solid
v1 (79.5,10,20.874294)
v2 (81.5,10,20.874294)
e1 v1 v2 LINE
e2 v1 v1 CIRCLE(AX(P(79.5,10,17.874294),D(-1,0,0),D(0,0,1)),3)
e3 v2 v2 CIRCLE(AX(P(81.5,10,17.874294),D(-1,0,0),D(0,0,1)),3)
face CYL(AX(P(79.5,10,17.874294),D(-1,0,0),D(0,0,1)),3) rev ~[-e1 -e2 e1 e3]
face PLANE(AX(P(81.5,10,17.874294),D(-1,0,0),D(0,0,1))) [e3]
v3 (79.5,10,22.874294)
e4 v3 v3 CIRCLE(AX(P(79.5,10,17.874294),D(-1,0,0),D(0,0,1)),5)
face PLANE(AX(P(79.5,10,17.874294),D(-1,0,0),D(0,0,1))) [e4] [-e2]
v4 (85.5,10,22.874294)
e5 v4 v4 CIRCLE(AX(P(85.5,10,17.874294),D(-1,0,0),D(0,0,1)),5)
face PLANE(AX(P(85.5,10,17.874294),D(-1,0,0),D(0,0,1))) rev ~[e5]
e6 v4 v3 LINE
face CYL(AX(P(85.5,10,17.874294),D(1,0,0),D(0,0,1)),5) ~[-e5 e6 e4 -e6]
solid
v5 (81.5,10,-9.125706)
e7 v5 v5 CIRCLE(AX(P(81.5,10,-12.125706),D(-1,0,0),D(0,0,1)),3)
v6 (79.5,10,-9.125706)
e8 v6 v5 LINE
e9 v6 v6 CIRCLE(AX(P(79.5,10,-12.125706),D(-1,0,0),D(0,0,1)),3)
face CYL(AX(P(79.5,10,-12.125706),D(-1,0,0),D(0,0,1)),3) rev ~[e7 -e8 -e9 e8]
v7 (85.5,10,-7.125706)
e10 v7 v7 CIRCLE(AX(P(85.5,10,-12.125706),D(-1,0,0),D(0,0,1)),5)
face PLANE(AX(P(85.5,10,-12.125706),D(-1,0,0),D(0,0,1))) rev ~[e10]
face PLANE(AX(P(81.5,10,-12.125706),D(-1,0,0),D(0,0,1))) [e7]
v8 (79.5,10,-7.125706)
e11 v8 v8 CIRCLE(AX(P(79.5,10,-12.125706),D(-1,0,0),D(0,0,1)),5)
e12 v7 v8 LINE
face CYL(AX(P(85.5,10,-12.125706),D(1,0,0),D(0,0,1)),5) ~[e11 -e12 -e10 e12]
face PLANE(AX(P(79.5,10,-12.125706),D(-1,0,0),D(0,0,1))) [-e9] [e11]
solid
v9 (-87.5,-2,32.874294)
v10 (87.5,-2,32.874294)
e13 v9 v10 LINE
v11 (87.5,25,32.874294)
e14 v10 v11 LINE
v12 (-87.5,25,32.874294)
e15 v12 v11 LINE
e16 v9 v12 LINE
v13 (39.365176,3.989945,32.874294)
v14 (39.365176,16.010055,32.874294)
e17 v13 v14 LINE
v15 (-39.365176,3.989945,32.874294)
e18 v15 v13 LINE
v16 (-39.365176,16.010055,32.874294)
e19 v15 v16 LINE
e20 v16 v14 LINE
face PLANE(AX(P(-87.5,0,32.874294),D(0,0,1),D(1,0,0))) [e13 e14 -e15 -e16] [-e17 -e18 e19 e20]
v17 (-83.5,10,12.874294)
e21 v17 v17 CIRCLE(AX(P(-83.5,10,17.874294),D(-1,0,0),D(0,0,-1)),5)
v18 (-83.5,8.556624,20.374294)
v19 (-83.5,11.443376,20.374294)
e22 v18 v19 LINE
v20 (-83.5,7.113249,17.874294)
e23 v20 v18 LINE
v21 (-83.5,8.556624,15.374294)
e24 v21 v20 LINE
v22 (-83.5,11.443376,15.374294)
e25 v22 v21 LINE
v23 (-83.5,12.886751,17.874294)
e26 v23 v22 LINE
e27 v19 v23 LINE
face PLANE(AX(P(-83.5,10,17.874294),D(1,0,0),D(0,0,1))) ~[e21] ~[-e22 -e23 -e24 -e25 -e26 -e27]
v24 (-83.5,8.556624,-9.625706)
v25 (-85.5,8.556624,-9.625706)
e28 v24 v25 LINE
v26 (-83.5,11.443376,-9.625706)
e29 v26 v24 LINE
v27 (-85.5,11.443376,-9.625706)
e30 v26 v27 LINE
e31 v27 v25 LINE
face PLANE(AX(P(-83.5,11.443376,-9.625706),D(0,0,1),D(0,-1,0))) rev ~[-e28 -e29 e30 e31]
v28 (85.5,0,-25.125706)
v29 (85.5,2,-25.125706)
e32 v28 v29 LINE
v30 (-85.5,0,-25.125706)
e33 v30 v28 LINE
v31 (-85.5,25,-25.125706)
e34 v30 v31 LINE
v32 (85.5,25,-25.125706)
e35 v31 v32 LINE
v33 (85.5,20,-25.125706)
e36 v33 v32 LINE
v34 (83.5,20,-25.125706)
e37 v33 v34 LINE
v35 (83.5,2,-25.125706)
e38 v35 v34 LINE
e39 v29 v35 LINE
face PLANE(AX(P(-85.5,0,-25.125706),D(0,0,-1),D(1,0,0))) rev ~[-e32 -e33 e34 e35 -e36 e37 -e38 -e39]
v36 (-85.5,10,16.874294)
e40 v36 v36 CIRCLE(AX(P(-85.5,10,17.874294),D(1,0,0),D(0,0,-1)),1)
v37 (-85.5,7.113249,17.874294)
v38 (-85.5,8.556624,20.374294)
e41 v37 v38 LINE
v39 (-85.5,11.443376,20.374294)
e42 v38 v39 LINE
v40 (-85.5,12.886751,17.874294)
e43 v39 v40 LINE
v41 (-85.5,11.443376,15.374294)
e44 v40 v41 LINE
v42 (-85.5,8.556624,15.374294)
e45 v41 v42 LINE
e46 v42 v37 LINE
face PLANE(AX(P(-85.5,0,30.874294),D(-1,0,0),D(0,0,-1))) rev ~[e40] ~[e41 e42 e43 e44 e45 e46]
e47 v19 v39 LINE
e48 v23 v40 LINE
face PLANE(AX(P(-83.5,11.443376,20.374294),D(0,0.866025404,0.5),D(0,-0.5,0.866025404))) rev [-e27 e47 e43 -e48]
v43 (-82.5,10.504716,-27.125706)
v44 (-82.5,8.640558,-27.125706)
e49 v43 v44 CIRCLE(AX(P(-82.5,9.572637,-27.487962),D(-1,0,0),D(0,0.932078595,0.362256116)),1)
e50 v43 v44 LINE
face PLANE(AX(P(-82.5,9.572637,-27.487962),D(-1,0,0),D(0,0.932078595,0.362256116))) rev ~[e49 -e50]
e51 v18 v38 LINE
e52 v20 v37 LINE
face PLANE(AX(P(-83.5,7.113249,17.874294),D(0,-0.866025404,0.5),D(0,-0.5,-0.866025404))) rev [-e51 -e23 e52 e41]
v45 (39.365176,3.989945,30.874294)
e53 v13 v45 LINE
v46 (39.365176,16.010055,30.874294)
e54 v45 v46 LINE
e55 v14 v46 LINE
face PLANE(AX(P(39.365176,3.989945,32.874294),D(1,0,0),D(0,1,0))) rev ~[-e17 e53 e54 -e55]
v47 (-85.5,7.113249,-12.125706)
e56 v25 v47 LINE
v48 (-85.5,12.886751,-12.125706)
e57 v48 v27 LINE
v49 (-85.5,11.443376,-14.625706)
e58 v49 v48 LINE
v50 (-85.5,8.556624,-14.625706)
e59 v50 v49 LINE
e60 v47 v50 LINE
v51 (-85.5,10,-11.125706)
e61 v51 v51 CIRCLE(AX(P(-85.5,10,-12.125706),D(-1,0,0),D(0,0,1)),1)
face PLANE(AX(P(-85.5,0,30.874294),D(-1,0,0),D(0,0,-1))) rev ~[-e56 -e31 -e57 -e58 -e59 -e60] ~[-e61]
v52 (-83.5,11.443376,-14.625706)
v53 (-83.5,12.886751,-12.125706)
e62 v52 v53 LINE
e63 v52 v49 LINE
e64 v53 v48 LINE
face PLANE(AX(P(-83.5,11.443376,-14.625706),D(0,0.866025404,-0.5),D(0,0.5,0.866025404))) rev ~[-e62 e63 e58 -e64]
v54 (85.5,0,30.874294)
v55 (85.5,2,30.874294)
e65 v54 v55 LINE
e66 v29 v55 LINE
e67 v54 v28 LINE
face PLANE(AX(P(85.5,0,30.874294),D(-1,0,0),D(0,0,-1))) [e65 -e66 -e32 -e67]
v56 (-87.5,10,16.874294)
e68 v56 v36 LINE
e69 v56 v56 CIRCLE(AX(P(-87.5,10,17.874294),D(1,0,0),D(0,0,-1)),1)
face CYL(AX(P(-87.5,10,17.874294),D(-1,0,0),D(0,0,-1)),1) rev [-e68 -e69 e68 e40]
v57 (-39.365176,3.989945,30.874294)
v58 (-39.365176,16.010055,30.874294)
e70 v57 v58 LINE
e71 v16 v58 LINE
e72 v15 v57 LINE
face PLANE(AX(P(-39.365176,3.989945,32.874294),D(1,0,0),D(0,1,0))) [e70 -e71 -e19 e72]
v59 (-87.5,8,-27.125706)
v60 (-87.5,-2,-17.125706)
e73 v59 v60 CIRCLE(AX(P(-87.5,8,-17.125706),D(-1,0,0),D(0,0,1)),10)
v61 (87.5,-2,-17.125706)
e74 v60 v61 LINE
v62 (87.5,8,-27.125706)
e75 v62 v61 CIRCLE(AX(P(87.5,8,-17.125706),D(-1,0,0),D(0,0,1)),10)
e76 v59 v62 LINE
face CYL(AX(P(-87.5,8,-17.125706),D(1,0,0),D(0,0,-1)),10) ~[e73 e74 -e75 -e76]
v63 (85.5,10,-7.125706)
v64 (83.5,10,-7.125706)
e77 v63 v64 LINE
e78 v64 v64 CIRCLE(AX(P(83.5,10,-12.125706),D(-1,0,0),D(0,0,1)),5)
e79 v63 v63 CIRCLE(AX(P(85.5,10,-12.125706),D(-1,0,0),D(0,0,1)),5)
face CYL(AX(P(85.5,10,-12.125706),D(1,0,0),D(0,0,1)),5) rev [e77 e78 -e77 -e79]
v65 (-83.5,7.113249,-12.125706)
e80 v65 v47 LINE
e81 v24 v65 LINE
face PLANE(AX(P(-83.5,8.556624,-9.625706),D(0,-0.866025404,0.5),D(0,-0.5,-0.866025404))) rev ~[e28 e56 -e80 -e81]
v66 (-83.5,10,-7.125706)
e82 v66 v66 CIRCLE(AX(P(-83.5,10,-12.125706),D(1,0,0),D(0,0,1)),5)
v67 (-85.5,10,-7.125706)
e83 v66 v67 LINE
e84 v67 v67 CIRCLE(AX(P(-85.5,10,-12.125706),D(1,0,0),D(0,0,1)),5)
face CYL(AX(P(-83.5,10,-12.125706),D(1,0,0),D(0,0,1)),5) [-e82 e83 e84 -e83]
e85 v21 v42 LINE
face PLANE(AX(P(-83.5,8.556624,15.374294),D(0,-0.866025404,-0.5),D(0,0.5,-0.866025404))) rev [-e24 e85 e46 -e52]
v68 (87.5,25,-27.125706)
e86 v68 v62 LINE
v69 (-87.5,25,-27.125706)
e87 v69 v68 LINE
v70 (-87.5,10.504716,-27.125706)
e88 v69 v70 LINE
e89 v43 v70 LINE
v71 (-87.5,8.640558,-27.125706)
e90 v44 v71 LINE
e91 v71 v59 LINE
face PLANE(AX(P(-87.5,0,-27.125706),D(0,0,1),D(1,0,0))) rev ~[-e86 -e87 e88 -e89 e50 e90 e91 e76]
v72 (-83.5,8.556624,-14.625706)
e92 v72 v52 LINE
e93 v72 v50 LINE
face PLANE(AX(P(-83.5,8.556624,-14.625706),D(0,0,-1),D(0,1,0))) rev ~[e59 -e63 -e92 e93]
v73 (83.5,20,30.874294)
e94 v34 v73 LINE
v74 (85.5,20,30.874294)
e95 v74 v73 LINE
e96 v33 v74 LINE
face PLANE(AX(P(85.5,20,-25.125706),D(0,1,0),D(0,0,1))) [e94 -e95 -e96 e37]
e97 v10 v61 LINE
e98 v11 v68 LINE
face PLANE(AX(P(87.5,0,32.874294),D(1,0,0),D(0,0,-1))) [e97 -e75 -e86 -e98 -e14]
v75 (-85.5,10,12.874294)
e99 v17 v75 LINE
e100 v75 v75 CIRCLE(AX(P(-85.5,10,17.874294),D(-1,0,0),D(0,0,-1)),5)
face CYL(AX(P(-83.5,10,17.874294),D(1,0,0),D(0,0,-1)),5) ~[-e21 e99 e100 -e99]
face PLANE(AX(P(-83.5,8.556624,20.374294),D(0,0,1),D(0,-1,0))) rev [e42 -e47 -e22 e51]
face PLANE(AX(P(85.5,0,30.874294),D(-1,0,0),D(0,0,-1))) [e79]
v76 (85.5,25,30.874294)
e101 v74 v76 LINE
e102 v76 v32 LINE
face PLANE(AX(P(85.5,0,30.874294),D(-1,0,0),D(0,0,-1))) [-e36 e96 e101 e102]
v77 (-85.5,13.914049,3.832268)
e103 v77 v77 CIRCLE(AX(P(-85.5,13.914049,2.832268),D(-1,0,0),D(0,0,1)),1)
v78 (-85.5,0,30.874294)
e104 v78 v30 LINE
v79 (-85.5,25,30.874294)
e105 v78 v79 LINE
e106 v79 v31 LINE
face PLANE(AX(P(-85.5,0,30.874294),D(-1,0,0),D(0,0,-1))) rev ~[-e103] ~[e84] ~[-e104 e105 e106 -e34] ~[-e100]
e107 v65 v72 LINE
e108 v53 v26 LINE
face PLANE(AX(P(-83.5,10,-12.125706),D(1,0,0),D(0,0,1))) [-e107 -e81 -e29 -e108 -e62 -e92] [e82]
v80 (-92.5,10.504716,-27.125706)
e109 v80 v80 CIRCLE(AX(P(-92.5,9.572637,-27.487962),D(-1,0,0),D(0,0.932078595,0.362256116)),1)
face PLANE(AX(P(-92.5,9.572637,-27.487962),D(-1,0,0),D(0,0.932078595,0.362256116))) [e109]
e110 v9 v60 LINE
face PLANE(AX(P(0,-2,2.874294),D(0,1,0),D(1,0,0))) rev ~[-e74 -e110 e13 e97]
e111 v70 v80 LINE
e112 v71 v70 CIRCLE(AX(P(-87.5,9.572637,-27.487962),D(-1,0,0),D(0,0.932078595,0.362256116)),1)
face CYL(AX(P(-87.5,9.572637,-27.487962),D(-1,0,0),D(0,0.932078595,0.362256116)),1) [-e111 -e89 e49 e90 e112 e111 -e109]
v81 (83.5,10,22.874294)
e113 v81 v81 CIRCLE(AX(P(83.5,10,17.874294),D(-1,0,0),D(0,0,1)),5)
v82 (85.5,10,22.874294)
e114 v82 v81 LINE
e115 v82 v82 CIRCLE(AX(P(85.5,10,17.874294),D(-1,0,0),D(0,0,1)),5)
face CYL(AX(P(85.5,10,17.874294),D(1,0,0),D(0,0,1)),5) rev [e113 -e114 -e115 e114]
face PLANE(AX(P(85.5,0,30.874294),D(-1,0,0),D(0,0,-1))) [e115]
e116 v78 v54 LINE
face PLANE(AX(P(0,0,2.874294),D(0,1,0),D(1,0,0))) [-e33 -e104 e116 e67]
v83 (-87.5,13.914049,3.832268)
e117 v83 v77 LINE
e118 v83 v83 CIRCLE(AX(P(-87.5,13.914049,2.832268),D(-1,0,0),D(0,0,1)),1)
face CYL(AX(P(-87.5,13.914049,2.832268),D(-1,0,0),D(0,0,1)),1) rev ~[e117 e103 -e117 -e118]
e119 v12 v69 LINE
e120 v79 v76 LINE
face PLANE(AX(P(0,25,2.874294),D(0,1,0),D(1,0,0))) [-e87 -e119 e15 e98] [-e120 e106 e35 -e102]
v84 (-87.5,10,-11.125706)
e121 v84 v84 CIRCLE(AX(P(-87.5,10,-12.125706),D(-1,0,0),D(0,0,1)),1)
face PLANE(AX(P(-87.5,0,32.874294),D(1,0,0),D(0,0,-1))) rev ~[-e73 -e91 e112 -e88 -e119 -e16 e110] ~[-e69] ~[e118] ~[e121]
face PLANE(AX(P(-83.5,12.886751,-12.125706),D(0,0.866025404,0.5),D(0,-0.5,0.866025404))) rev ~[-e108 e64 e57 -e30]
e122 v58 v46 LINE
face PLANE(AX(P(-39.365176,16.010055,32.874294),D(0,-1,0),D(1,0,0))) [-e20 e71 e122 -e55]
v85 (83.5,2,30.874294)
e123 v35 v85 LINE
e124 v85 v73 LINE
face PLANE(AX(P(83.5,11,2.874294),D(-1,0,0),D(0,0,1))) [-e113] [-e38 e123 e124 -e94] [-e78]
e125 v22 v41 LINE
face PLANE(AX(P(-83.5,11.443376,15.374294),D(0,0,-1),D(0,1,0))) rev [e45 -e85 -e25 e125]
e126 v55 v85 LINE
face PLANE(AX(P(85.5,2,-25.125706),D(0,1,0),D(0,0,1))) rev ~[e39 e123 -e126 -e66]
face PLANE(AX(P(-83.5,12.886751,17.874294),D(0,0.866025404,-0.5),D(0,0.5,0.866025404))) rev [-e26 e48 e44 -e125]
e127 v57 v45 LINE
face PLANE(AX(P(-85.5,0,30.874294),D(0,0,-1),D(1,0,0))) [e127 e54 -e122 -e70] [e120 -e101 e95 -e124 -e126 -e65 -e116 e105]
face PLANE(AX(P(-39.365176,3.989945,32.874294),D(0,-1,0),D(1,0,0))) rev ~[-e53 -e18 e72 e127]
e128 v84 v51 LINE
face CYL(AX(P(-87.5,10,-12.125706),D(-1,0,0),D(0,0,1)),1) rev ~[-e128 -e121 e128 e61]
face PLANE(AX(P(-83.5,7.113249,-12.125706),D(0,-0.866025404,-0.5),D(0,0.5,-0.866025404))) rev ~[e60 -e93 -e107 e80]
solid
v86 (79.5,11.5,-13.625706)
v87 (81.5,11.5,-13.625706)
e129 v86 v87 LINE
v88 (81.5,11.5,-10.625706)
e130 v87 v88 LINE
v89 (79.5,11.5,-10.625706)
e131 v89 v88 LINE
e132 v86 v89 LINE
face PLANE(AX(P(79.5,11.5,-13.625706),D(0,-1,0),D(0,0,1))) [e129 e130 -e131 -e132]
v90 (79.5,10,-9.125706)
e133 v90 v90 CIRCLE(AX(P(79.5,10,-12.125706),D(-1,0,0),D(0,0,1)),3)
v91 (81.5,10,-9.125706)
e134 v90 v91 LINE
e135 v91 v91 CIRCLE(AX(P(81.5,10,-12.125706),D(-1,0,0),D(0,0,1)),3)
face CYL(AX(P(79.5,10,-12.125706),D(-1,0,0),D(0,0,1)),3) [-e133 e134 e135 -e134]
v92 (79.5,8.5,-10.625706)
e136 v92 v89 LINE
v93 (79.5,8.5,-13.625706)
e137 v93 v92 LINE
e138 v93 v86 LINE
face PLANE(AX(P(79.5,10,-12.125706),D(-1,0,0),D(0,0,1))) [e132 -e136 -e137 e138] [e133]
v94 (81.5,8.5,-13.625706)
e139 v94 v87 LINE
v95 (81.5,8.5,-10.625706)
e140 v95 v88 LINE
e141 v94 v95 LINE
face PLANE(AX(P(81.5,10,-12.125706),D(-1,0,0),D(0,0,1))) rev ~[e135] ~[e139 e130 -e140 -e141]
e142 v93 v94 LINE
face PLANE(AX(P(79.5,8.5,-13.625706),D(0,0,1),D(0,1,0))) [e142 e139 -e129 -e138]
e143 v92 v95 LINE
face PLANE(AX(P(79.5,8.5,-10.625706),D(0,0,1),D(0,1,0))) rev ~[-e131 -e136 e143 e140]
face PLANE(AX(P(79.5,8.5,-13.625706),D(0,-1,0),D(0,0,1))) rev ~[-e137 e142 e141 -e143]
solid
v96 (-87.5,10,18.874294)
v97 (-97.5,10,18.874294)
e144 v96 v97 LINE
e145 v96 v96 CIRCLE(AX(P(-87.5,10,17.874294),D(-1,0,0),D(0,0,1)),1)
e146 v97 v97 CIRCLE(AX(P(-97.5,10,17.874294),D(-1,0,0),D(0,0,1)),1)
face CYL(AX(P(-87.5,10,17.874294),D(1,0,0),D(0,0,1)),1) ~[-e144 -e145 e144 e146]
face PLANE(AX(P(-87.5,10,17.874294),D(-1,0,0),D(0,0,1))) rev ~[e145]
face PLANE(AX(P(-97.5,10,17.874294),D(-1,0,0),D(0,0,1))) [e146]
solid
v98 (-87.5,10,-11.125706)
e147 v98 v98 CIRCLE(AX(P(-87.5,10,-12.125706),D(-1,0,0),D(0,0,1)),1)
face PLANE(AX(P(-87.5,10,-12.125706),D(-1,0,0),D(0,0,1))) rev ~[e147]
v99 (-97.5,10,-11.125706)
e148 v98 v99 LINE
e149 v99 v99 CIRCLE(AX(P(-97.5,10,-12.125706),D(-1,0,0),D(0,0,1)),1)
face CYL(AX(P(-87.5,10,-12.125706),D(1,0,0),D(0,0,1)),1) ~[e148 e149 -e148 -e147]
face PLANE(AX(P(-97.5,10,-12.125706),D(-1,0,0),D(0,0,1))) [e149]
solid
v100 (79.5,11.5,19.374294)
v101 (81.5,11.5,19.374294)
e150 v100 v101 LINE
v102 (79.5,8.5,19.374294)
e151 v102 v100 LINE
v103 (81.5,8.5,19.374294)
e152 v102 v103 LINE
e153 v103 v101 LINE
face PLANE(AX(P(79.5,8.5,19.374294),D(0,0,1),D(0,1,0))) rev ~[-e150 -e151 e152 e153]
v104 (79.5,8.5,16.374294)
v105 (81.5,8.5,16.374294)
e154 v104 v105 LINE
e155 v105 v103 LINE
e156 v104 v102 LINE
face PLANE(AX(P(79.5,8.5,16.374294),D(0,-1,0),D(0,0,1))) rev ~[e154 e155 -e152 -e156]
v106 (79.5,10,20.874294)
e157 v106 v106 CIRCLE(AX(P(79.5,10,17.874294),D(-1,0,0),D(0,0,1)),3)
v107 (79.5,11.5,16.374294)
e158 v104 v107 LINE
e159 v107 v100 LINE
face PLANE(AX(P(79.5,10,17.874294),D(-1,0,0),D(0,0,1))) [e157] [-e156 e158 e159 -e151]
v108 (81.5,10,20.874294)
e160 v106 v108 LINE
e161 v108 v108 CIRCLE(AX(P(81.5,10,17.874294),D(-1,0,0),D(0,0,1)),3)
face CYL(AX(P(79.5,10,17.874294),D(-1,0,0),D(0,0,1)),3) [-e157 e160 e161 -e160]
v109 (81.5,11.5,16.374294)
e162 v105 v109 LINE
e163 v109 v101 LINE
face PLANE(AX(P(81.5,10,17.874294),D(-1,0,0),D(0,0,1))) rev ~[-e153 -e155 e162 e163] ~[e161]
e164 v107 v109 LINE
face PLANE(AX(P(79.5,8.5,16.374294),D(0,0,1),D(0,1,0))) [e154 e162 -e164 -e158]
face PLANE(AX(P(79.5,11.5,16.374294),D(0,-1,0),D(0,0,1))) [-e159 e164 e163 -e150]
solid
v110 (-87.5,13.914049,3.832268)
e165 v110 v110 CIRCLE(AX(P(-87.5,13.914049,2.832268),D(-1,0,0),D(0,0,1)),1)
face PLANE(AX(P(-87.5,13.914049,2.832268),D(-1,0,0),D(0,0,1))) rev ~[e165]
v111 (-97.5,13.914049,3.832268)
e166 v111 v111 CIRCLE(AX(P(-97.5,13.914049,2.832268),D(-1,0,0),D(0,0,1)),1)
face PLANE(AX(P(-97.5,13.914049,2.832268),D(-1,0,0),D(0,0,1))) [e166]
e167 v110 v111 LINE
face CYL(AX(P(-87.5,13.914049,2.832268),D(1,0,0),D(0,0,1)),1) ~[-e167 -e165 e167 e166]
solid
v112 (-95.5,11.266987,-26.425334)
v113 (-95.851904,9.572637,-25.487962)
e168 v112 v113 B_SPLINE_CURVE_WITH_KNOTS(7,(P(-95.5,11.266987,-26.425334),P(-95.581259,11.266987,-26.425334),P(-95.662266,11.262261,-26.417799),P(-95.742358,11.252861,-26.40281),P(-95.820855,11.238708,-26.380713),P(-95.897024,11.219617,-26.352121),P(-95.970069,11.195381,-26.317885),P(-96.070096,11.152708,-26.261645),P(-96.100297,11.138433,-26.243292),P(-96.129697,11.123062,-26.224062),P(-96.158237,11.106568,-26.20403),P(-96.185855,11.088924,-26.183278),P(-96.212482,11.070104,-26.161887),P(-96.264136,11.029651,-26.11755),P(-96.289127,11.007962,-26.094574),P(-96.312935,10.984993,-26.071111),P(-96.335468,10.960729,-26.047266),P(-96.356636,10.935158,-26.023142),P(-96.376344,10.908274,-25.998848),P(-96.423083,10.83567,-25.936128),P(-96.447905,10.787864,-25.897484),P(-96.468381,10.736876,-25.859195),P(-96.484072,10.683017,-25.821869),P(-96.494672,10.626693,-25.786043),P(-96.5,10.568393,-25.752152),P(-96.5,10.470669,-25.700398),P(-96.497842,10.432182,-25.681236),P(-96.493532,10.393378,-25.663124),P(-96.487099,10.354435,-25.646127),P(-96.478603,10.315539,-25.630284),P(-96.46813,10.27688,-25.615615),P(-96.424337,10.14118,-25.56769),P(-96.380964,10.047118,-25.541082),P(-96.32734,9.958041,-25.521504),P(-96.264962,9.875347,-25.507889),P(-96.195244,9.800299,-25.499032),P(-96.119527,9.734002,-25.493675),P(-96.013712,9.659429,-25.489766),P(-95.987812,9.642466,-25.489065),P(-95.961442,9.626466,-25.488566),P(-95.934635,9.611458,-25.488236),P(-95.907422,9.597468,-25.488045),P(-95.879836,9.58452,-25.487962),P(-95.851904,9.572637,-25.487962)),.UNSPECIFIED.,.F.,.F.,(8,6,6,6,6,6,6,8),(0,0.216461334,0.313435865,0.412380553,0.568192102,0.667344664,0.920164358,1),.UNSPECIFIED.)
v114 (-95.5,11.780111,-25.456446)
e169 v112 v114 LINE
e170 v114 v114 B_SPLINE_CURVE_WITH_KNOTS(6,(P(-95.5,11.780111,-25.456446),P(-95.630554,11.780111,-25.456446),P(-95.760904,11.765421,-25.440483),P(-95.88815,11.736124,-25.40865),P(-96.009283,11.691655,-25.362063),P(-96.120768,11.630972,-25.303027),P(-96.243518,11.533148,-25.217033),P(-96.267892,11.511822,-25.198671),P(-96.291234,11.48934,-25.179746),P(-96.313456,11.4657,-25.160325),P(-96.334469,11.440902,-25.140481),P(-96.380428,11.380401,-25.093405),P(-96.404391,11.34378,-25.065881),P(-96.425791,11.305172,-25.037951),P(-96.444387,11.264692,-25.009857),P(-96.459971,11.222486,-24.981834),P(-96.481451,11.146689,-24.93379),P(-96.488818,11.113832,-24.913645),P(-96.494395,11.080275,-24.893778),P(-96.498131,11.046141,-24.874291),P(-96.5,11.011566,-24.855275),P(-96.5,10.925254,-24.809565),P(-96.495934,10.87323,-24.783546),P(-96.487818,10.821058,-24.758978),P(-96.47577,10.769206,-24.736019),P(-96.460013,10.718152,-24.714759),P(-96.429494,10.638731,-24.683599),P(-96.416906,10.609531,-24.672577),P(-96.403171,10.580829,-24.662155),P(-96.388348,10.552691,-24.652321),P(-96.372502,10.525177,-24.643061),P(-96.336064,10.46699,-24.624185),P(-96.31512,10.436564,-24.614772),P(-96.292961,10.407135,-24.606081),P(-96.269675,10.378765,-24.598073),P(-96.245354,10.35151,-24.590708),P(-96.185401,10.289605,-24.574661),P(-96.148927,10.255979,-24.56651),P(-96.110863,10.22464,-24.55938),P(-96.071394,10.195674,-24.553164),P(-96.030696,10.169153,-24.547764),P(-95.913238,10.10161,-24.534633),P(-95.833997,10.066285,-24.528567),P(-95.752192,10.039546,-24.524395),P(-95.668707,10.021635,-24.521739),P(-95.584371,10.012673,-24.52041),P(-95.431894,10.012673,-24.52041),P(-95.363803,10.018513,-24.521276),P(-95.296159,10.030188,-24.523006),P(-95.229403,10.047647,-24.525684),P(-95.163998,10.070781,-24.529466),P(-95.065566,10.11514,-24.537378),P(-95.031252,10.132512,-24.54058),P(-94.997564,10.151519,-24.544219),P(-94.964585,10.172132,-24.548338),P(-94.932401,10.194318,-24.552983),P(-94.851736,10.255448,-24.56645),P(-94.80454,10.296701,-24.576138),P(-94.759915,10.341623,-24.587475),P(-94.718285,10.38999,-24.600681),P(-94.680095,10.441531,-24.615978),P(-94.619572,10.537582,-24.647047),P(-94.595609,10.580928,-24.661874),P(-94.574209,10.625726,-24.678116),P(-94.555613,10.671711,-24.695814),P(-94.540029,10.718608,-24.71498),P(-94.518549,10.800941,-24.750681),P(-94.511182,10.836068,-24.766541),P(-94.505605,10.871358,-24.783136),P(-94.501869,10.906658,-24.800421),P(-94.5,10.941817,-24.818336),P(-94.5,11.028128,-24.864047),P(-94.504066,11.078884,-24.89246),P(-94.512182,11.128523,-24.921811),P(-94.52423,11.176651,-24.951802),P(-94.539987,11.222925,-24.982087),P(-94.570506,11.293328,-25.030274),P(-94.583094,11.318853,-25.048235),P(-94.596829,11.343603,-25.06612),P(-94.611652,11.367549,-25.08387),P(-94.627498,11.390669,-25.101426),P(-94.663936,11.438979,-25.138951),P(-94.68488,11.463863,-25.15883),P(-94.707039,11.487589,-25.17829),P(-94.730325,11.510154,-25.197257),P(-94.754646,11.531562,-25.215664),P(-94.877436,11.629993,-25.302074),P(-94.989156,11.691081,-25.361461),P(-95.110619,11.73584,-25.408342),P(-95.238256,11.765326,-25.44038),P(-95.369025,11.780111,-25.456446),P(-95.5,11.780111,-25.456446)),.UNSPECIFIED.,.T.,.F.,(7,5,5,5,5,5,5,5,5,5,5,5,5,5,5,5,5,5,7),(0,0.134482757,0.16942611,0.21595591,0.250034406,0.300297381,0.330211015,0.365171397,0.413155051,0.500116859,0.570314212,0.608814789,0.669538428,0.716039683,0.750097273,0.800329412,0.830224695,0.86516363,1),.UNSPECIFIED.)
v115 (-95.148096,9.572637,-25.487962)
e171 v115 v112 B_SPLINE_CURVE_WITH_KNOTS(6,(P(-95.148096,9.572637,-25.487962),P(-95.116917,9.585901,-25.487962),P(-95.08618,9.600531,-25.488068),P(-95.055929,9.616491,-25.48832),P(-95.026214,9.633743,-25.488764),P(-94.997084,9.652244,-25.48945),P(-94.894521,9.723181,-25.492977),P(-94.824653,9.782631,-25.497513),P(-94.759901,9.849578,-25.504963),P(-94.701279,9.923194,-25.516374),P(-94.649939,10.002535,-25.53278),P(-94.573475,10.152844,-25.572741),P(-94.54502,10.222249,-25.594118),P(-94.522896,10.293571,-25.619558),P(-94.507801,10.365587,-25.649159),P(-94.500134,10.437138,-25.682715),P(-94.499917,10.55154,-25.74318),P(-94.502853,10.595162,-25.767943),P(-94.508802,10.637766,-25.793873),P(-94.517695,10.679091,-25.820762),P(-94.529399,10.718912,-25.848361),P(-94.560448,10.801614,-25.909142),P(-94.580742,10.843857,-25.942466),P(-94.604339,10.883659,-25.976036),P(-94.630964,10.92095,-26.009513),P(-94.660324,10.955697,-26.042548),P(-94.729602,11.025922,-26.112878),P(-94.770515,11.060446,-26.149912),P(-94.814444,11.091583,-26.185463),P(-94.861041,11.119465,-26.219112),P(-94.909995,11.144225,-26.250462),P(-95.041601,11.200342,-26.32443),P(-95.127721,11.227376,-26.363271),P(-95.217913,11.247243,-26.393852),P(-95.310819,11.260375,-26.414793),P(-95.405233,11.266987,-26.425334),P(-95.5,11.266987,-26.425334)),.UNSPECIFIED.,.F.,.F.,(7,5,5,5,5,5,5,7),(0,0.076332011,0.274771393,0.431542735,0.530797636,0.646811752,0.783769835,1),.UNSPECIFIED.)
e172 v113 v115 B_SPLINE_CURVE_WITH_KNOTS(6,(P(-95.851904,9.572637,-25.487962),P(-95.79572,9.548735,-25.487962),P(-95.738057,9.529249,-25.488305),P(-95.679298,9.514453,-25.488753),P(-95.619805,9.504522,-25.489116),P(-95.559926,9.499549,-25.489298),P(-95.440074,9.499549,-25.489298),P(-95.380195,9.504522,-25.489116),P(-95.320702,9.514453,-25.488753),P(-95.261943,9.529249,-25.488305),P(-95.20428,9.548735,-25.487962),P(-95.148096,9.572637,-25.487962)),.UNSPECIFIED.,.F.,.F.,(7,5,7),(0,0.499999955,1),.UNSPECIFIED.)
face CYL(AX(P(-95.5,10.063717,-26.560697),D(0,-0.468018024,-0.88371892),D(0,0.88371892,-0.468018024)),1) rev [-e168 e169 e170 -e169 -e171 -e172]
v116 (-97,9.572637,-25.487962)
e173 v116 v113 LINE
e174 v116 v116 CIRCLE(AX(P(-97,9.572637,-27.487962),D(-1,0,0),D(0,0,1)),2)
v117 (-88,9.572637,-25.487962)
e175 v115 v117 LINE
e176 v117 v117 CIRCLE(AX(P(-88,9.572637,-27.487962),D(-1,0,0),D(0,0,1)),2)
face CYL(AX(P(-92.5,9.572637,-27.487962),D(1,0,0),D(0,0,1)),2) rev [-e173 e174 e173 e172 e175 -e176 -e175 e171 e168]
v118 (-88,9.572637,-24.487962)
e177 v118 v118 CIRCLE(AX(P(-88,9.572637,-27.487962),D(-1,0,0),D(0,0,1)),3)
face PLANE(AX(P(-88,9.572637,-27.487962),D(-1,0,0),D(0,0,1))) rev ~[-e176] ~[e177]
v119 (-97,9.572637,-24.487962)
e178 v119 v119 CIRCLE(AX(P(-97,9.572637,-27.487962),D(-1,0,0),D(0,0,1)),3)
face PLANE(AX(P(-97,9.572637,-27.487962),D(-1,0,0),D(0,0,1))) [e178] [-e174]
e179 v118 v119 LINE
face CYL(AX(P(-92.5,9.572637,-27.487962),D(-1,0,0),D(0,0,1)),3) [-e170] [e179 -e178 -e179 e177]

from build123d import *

# Parameters (mm, degrees)
SKETCH1_W              = 175
SKETCH1_H              = 60
SKETCH1_W_2            = 171
SKETCH1_H_2            = 56
BOSS_EXTRUDE1_DEPTH    = 25
SKETCH1_2_W            = 175
SKETCH1_2_H            = 60
BOSS_EXTRUDE2_DEPTH    = 2
SKETCH3_W              = 78.730351058
SKETCH3_H              = 12.02010903
CUT_EXTRUDE2_DEPTH     = 2
SKETCH5_W              = 56
SKETCH5_H              = 18
SKETCH5_R              = 5
BOSS_EXTRUDE3_DEPTH    = 2
SKETCH5_4_R            = 5
BOSS_EXTRUDE4_DEPTH    = 6
BOSS_EXTRUDE4_2_DEPTH  = 6
SKETCH9_R              = 3
CUT_EXTRUDE3_DEPTH     = 2
SKETCH9_3_R            = 3
BOSS_EXTRUDE5_DEPTH    = 2
SKETCH6_W              = 3
SKETCH6_H              = 3
CUT_EXTRUDE4_DEPTH     = 2
SKETCH8_R              = 1
CUT_EXTRUDE5_DEPTH     = 2
BOSS_EXTRUDE8_START    = 2
SKETCH10_R             = 5
BOSS_EXTRUDE8_DEPTH    = 2
SKETCH11_R             = 3
SKETCH11_W             = 3
SKETCH11_H             = 3
CUT_EXTRUDE6_DEPTH     = 2
SKETCH11_3_R           = 3
SKETCH11_3_W           = 3
SKETCH11_3_H           = 3
BOSS_EXTRUDE9_DEPTH    = 2
SKETCH12_R             = 1
CUT_EXTRUDE7_DEPTH     = 2
SKETCH13_R             = 1
BOSS_EXTRUDE10_DEPTH   = 5
SKETCH14_R             = 3
SKETCH14_R_2           = 2
BOSS_EXTRUDE11_DEPTH   = 4.5
FILLET1_R              = 10
SKETCH15_R             = 1
BOSS_EXTRUDE12_DEPTH   = 10
BOSS_EXTRUDE12_2_DEPTH = 10
BOSS_EXTRUDE12_3_DEPTH = 10
SKETCH16_R             = 1
CUT_EXTRUDE9_DEPTH     = 3


with BuildPart() as part:
    # Sketch1 → Boss-Extrude1 (new body)
    with BuildSketch(Plane(origin=(0, 0, 0), x_dir=(1, 0, 0), z_dir=(0, 1, 0))):
        with Locations((0, -2.874293785)):
            Rectangle(SKETCH1_W, SKETCH1_H)
        with Locations((0, -2.874293785)):
            Rectangle(SKETCH1_W_2, SKETCH1_H_2, mode=Mode.SUBTRACT)
    extrude(amount=BOSS_EXTRUDE1_DEPTH)

    # Sketch1<2> → Boss-Extrude2 (add)
    with BuildSketch(Plane(origin=(0, 0, 0), x_dir=(1, 0, 0), z_dir=(0, 1, 0))):
        with Locations((0, -2.874293785)):
            Rectangle(SKETCH1_2_W, SKETCH1_2_H)
    extrude(amount=-BOSS_EXTRUDE2_DEPTH)

    # Sketch3 → Cut-Extrude2 (cut)
    with BuildSketch(Plane.XY.offset(32.874293785)):
        with Locations((0, 10)):
            Rectangle(SKETCH3_W, SKETCH3_H)
    extrude(amount=-CUT_EXTRUDE2_DEPTH, mode=Mode.SUBTRACT)

    # Sketch5 → Boss-Extrude3 (add)
    with BuildSketch(Plane.ZY.offset(-85.5)):
        with Locations((2.874293785, 11)):
            Rectangle(SKETCH5_W, SKETCH5_H)
        with Locations((17.874293785, 10)):
            Circle(SKETCH5_R, mode=Mode.SUBTRACT)
        with Locations((-12.125706215, 10)):
            Circle(SKETCH5_R, mode=Mode.SUBTRACT)
    extrude(amount=BOSS_EXTRUDE3_DEPTH)

    # Sketch8 → Cut-Extrude5 (cut)
    with BuildSketch(Plane.ZY.offset(87.5)):
        with Locations((-12.125706215, 10)):
            Circle(SKETCH8_R)
    cut_extrude5 = extrude(amount=-CUT_EXTRUDE5_DEPTH, mode=Mode.SUBTRACT)

    # Sketch10 → Boss-Extrude8 (add)
    with BuildSketch(Plane(origin=(-85.5, 0, 0), x_dir=(0, 0, -1), z_dir=(1, 0, 0)).offset(BOSS_EXTRUDE8_START)):
        with Locations(Location((12.125706215, 10, 0), (0, 0, 180))):
            Circle(SKETCH10_R)
        Polygon((12.125706215, 12.886751346), (9.625706215, 11.443375673), (9.625706215, 8.556624327), (12.125706215, 7.113248654), (14.625706215, 8.556624327), (14.625706215, 11.443375673), align=None, mode=Mode.SUBTRACT)
    boss_extrude8 = extrude(amount=-BOSS_EXTRUDE8_DEPTH)

    # Mirror1: Cut-Extrude5, Boss-Extrude8 across plane
    add(cut_extrude5.mirror(Plane.XY.offset(2.874293785)), mode=Mode.SUBTRACT)
    add(boss_extrude8.mirror(Plane.XY.offset(2.874293785)))

    # Sketch12 → Cut-Extrude7 (cut)
    with BuildSketch(Plane.ZY.offset(87.5)):
        with Locations((2.832267692, 13.914049176)):
            Circle(SKETCH12_R)
    extrude(amount=-CUT_EXTRUDE7_DEPTH, mode=Mode.SUBTRACT)

    # Sketch13 → Boss-Extrude10 (add, symmetric)
    with BuildSketch(Plane.ZY.offset(87.5)):
        with Locations(Location((-27.48796233, 9.572637011, 0), (0, 0, 68.76118338))):
            Circle(SKETCH13_R)
    extrude(amount=BOSS_EXTRUDE10_DEPTH, both=True)

    # Fillet1
    fillet1_edges = [part.edges().sort_by_distance(p)[0] for p in [
        (0, -2, -27.125706215),
    ]]
    fillet(fillet1_edges, radius=FILLET1_R)


with BuildPart() as body_2:
    # Sketch5<4> → Boss-Extrude4 (new body)
    with BuildSketch(Plane.ZY.offset(-85.5)):
        with Locations((17.874293785, 10)):
            Circle(SKETCH5_4_R)
    extrude(amount=BOSS_EXTRUDE4_DEPTH)

    # Sketch11 → Cut-Extrude6 (cut)
    # profile 1 of 2: a face of its own
    with BuildSketch(Plane.ZY.offset(-79.5)):
        with Locations((17.874293785, 10)):
            Circle(SKETCH11_R)
        with Locations((17.874293785, 10)):
            Rectangle(SKETCH11_W, SKETCH11_H, mode=Mode.SUBTRACT)
    # profile 2 of 2: a face of its own
    with BuildSketch(Plane.ZY.offset(-79.5)):
        with Locations((17.874293785, 10)):
            Rectangle(SKETCH11_W, SKETCH11_H)
    extrude(amount=-CUT_EXTRUDE6_DEPTH, mode=Mode.SUBTRACT)


with BuildPart() as body_3:
    # Sketch5<4> → Boss-Extrude4 2 (new body)
    with BuildSketch(Plane.ZY.offset(-85.5)):
        with Locations((-12.125706215, 10)):
            Circle(SKETCH5_4_R)
    extrude(amount=BOSS_EXTRUDE4_2_DEPTH)

    # Sketch9 → Cut-Extrude3 (cut)
    with BuildSketch(Plane.ZY.offset(-79.5)):
        with Locations((-12.125706215, 10)):
            Circle(SKETCH9_R)
    extrude(amount=-CUT_EXTRUDE3_DEPTH, mode=Mode.SUBTRACT)


with BuildPart() as body_4:
    # Sketch9<3> → Boss-Extrude5 (new body)
    with BuildSketch(Plane.ZY.offset(-79.5)):
        with Locations((-12.125706215, 10)):
            Circle(SKETCH9_3_R)
    extrude(amount=-BOSS_EXTRUDE5_DEPTH)

    # Sketch6 → Cut-Extrude4 (cut)
    with BuildSketch(Plane.ZY.offset(-79.5)):
        with Locations((-12.125706215, 10)):
            Rectangle(SKETCH6_W, SKETCH6_H)
    extrude(amount=-CUT_EXTRUDE4_DEPTH, mode=Mode.SUBTRACT)


with BuildPart() as body_5:
    # Sketch11<3> → Boss-Extrude9 (new body)
    with BuildSketch(Plane.ZY.offset(-79.5)):
        with Locations((17.874293785, 10)):
            Circle(SKETCH11_3_R)
        with Locations((17.874293785, 10)):
            Rectangle(SKETCH11_3_W, SKETCH11_3_H, mode=Mode.SUBTRACT)
    extrude(amount=-BOSS_EXTRUDE9_DEPTH)


with BuildPart() as body_6:
    # Sketch14 → Boss-Extrude11 (new, symmetric)
    with BuildSketch(Plane.ZY.offset(92.5)):
        with Locations((-27.48796233, 9.572637011)):
            Circle(SKETCH14_R)
        with Locations((-27.48796233, 9.572637011)):
            Circle(SKETCH14_R_2, mode=Mode.SUBTRACT)
    extrude(amount=BOSS_EXTRUDE11_DEPTH, both=True)

    # Sketch16 → Cut-Extrude9 (cut)
    with BuildSketch(Plane(origin=(0, -8.781042983, -16.580502058), x_dir=(1, 0, 0), z_dir=(0, 0.4680180244417621, 0.8837189195652826))):
        with Locations(Location((-95.5, 21.324382263, 0), (0, 0, 90))):
            Circle(SKETCH16_R)
    extrude(amount=CUT_EXTRUDE9_DEPTH, mode=Mode.SUBTRACT)


with BuildPart() as body_7:
    # Sketch15 → Boss-Extrude12 (new body)
    with BuildSketch(Plane.ZY.offset(87.5)):
        with Locations((-12.125706215, 10)):
            Circle(SKETCH15_R)
    extrude(amount=BOSS_EXTRUDE12_DEPTH)


with BuildPart() as body_8:
    # Sketch15 → Boss-Extrude12 2 (new body)
    with BuildSketch(Plane.ZY.offset(87.5)):
        with Locations((2.832267692, 13.914049176)):
            Circle(SKETCH15_R)
    extrude(amount=BOSS_EXTRUDE12_2_DEPTH)


with BuildPart() as body_9:
    # Sketch15 → Boss-Extrude12 3 (new body)
    with BuildSketch(Plane.ZY.offset(87.5)):
        with Locations((17.874293785, 10)):
            Circle(SKETCH15_R)
    extrude(amount=BOSS_EXTRUDE12_3_DEPTH)


solid = Compound([part.part, body_2.part, body_3.part, body_4.part, body_5.part, body_6.part, body_7.part, body_8.part, body_9.part])
